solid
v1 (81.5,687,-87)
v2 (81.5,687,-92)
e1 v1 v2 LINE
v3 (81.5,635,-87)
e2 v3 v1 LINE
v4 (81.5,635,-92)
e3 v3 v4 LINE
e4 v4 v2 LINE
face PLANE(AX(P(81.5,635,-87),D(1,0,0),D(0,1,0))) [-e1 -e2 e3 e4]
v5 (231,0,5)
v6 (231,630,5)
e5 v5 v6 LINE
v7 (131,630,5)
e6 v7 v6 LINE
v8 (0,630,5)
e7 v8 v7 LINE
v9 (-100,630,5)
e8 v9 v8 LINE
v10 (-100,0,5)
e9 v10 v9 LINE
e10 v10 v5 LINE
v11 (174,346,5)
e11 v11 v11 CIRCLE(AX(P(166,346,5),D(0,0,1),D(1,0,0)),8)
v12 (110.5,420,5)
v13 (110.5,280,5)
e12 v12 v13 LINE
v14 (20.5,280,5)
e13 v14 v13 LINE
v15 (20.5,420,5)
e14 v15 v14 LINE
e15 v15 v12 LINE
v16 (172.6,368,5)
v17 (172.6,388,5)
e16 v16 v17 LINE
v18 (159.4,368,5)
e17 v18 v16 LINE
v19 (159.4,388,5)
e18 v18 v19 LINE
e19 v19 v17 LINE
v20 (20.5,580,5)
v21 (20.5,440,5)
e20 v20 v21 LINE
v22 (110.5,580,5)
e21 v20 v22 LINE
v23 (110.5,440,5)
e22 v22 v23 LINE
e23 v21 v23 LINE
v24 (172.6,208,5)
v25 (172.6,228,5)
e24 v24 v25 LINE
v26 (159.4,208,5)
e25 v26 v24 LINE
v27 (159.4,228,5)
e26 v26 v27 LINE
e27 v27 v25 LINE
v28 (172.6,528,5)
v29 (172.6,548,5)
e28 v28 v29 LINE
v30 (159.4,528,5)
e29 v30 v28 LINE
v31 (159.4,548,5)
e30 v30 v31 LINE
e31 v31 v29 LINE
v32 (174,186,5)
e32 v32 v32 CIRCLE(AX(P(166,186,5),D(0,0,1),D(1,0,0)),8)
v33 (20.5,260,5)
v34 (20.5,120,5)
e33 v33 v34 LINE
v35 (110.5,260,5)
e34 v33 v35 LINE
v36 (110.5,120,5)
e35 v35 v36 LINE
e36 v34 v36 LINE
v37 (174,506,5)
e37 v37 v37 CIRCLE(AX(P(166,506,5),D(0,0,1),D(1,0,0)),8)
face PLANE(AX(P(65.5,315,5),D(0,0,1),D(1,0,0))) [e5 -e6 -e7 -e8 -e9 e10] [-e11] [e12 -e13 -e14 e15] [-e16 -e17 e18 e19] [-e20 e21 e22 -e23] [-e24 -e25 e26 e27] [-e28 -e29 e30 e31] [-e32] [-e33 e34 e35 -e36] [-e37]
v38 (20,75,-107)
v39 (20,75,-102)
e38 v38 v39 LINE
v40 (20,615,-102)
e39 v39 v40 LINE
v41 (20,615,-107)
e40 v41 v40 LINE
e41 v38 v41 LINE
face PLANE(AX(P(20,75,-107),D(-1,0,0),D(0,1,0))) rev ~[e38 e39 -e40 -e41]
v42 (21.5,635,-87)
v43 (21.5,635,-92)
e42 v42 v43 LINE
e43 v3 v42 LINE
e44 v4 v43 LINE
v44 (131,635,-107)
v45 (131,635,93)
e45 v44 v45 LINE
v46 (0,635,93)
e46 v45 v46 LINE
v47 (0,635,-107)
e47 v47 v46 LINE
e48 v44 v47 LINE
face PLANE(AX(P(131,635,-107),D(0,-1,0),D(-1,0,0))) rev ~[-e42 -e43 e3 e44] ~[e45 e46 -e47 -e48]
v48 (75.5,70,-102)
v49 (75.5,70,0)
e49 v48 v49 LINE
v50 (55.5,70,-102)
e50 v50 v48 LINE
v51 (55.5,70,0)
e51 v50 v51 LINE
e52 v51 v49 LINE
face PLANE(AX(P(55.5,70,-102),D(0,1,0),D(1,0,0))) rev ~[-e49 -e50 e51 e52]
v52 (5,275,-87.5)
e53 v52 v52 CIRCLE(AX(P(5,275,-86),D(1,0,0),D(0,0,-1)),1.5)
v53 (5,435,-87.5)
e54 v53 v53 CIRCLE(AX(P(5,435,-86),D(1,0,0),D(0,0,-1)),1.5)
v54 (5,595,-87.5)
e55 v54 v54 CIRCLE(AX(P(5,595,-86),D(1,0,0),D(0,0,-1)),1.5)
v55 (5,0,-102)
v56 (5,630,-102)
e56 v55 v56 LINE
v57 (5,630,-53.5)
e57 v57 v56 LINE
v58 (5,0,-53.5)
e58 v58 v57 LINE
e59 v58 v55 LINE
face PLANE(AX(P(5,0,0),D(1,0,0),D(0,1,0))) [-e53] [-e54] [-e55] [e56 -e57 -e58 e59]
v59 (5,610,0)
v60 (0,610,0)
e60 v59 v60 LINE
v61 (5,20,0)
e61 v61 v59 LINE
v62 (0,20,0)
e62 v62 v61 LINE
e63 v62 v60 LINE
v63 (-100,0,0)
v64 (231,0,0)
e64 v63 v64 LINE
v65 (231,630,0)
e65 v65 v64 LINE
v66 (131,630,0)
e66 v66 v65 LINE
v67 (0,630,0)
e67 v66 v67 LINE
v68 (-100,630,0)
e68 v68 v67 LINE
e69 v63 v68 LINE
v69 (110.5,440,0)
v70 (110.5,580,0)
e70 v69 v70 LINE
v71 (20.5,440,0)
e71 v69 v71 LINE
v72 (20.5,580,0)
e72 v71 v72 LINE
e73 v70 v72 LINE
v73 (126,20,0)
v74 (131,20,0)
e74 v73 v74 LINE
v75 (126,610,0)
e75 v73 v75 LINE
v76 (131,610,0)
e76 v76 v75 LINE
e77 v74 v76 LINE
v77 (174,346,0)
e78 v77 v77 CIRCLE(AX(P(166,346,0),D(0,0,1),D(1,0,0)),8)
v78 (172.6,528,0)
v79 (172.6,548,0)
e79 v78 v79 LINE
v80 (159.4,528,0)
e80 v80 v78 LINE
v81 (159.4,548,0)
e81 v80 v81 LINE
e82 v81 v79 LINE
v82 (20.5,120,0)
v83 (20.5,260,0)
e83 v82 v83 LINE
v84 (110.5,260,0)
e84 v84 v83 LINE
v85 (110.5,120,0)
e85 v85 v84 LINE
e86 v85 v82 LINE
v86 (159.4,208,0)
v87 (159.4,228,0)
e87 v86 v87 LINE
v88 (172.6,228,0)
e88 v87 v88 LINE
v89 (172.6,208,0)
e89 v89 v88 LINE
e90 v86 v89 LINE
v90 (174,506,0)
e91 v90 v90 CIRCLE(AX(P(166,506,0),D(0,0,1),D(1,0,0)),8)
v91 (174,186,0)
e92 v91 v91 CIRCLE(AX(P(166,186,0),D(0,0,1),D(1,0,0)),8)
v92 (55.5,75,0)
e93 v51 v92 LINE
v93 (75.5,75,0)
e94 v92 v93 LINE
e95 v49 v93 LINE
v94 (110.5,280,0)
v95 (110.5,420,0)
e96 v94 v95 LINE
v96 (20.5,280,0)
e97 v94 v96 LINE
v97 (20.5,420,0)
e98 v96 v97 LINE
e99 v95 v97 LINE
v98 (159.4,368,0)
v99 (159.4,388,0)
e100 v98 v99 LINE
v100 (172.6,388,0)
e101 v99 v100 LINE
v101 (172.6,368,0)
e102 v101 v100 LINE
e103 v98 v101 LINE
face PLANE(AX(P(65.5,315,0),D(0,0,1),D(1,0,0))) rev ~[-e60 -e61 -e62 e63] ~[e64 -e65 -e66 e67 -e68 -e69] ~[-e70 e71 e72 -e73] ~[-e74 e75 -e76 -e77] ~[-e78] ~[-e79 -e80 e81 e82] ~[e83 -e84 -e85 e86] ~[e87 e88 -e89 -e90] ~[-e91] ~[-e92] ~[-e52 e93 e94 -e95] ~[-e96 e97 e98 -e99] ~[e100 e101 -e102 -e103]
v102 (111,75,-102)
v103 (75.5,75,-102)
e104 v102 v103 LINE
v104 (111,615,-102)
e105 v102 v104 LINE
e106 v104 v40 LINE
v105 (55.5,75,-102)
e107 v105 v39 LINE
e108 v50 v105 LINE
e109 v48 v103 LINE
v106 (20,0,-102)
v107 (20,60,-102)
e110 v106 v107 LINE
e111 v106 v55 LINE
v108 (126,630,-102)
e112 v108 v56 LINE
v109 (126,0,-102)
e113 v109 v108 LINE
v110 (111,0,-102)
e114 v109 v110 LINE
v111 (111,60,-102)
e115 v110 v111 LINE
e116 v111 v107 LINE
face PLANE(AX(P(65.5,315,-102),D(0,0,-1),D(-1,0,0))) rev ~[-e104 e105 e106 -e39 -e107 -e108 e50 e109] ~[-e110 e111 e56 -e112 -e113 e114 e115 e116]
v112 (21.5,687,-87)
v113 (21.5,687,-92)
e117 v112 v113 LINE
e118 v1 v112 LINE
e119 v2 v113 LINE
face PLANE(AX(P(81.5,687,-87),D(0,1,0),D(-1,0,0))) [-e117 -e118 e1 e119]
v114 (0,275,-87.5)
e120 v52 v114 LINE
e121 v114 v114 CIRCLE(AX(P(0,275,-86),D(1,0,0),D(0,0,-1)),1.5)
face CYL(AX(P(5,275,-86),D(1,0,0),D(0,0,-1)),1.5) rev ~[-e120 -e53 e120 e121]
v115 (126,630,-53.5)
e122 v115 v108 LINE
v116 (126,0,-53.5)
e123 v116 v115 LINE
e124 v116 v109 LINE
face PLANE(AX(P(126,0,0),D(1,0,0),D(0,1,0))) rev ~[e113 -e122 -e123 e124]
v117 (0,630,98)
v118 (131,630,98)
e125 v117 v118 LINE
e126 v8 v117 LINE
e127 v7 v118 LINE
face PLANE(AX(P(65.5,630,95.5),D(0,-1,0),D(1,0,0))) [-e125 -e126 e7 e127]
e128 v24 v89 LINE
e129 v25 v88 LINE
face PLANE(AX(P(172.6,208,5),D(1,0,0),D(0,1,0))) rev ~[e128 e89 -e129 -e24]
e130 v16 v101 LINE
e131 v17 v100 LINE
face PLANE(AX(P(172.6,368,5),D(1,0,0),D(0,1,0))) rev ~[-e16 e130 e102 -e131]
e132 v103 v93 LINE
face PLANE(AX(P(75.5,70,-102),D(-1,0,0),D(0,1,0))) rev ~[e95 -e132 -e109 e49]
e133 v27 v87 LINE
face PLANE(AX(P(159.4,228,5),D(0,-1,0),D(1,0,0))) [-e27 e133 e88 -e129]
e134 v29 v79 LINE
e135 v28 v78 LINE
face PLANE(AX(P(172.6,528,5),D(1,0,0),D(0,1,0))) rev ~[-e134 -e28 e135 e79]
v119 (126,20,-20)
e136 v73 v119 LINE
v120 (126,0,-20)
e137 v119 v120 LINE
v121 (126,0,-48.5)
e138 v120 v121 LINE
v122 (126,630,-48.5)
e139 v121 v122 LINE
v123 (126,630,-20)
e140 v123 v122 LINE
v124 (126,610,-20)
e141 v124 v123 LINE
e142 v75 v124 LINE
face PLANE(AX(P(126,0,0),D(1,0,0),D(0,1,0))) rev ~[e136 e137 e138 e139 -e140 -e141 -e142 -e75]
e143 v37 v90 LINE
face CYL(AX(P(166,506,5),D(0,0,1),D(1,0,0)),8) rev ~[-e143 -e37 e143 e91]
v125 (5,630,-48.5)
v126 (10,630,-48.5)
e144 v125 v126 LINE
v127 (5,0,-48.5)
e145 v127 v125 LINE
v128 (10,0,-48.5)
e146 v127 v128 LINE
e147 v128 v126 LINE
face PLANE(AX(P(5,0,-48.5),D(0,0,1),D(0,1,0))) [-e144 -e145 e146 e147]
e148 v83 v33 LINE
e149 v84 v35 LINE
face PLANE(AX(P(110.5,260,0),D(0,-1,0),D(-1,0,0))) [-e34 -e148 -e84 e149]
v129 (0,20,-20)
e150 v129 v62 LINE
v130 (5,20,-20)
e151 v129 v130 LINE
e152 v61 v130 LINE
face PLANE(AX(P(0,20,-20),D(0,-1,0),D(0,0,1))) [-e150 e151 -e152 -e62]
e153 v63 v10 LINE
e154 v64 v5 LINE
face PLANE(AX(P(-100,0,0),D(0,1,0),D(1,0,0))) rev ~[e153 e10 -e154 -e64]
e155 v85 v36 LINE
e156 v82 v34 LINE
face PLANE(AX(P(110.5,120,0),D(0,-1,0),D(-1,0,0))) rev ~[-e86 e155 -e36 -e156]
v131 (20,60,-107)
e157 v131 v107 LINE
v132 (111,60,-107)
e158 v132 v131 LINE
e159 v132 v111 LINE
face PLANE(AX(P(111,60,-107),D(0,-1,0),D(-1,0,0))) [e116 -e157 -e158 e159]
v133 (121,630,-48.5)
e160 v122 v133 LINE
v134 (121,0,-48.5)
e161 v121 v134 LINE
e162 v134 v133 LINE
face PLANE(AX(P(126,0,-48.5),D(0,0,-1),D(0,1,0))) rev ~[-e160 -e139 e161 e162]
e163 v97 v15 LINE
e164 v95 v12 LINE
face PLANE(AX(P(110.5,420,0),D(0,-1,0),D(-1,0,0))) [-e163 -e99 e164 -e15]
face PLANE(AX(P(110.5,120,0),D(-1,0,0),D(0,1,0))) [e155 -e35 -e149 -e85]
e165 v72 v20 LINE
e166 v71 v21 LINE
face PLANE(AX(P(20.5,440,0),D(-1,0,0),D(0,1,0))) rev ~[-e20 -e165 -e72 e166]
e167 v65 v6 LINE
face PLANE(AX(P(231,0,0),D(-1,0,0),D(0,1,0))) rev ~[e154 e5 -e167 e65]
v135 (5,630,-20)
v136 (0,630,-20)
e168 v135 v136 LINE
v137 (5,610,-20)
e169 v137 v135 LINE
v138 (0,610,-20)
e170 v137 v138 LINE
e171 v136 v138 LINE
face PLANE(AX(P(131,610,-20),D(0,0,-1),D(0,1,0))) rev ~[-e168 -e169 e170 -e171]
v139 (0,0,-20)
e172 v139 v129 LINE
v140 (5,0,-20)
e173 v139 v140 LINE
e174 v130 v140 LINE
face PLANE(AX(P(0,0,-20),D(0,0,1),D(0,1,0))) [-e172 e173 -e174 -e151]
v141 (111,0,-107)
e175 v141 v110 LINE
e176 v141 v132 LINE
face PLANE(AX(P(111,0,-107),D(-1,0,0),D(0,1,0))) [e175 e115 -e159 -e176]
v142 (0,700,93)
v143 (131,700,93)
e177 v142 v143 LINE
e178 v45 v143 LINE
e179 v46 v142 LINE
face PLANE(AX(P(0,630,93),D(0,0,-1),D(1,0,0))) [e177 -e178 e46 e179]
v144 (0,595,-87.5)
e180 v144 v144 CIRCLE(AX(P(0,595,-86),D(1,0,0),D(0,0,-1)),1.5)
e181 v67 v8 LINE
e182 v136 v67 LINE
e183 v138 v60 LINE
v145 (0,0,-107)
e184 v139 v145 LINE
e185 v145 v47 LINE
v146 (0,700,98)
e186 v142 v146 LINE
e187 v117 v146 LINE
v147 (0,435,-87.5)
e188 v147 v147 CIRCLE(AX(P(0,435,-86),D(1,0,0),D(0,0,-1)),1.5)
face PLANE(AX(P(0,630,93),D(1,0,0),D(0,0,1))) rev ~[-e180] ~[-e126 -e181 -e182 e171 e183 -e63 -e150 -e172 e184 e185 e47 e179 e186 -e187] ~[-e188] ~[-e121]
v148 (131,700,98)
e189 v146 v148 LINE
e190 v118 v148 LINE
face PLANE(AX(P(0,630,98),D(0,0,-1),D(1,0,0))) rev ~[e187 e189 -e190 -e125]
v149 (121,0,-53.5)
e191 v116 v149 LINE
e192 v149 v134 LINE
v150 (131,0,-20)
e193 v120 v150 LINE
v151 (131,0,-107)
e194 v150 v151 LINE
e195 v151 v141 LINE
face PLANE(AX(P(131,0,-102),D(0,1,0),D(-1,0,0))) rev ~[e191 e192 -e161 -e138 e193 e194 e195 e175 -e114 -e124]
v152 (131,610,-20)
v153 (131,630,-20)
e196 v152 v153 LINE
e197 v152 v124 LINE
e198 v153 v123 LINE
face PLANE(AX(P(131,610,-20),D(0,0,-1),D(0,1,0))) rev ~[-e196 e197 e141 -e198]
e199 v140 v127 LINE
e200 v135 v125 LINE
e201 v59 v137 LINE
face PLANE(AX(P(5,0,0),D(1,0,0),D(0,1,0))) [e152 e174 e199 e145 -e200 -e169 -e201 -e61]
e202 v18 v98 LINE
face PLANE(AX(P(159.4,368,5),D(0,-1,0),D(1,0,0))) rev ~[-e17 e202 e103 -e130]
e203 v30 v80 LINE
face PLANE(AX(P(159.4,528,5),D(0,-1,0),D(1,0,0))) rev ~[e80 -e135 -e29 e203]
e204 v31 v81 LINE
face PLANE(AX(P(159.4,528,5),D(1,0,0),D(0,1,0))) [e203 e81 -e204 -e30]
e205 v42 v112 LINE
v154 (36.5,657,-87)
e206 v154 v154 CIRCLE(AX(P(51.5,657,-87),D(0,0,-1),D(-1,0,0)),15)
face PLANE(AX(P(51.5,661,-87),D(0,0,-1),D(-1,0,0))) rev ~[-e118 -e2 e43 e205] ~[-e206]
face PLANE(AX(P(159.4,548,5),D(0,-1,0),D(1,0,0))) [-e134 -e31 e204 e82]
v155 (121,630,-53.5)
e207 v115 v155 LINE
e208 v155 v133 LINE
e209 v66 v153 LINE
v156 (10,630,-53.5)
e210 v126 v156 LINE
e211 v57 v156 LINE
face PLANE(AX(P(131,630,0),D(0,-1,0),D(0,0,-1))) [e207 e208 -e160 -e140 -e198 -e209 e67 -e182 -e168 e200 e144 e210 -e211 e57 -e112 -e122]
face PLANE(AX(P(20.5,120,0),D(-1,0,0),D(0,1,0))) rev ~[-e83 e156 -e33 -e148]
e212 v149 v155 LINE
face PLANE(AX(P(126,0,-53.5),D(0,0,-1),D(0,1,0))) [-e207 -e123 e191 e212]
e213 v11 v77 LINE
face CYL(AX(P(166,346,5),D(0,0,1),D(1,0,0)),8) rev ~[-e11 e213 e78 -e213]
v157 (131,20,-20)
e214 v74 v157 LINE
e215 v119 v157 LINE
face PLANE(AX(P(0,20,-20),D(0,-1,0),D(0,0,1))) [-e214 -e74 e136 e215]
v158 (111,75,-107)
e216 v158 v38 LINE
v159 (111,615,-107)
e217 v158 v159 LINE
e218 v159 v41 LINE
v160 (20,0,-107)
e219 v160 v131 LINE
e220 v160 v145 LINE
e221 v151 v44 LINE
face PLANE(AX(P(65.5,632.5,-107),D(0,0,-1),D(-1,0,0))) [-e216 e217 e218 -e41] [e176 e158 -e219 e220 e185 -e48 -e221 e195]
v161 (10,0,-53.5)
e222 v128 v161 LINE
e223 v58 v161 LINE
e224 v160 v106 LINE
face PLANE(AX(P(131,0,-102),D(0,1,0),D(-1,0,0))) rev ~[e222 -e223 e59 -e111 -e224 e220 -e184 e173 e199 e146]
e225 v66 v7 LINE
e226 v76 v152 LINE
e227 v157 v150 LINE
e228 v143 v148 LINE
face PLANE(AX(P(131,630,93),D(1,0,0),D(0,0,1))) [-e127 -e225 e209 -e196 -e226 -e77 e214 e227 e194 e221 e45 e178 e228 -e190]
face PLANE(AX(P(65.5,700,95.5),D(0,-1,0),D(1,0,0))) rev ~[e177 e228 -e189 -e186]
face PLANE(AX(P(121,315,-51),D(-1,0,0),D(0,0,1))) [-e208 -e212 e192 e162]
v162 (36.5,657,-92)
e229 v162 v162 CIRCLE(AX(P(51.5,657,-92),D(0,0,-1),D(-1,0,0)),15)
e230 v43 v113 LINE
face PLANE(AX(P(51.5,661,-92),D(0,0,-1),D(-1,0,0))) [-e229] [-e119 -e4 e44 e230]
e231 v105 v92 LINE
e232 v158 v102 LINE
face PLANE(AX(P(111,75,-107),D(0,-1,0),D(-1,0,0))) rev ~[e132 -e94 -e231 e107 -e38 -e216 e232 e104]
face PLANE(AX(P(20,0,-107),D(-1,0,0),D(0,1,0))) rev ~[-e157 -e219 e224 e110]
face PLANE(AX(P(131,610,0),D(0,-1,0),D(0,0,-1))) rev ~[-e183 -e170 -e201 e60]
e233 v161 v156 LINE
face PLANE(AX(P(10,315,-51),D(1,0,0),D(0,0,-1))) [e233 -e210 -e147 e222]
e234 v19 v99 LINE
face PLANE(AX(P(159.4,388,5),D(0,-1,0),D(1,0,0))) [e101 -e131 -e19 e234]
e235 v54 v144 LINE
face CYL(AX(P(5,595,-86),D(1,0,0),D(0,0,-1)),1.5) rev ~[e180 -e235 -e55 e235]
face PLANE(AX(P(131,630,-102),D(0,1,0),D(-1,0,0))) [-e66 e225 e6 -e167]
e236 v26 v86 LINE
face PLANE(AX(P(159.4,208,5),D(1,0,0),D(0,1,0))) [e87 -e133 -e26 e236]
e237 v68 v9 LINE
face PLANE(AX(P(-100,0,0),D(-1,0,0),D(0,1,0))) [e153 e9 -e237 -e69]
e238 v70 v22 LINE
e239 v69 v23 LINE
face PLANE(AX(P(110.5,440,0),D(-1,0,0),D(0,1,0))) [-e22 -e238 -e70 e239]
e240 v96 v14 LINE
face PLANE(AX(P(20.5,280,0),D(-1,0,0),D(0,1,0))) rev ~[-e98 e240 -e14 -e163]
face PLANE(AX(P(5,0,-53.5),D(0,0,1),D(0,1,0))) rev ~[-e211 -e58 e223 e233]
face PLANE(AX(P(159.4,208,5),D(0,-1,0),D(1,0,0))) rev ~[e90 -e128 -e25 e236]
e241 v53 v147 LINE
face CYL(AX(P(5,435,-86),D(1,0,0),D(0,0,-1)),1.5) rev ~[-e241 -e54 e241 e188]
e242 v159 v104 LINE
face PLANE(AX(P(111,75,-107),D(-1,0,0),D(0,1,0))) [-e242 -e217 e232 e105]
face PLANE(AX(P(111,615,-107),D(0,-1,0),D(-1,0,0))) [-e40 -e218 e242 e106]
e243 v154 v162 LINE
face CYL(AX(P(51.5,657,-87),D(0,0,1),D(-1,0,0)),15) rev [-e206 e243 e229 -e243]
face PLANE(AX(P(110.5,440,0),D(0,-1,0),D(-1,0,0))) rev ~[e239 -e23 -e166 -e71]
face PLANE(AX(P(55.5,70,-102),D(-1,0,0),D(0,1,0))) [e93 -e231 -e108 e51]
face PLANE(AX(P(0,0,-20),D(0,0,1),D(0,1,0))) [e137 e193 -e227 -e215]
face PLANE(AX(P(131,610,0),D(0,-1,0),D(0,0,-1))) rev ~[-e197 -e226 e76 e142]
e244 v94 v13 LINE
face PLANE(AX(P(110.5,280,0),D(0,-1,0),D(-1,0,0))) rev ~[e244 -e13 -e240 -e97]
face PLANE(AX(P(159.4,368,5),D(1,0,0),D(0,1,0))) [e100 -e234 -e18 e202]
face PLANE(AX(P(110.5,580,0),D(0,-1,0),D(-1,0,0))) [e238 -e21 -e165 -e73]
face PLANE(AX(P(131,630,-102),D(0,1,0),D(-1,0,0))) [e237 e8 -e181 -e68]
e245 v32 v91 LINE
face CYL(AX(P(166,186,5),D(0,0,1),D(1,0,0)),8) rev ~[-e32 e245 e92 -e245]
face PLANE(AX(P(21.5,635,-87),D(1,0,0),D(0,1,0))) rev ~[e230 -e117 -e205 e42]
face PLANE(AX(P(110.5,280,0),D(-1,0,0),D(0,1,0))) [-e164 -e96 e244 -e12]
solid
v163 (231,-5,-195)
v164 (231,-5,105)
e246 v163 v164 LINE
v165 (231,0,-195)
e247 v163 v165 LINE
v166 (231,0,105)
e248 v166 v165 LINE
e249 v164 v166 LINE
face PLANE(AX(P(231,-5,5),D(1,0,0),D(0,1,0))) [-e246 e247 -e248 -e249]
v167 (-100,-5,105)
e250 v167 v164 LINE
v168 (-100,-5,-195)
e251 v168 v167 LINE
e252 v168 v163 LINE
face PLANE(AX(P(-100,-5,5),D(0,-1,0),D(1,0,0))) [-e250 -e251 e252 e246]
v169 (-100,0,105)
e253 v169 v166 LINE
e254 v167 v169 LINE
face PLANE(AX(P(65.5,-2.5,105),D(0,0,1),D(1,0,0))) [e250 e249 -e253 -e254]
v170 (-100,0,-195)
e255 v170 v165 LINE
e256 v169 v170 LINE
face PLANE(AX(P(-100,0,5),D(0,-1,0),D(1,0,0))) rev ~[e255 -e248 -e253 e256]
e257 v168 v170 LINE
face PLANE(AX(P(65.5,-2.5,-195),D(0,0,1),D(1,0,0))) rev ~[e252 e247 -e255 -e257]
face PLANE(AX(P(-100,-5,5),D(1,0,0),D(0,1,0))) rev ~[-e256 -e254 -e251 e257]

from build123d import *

# Parameters (mm, degrees)
ESQUISSE1_W             = 102
ESQUISSE1_H             = 630
BOSS_EXTRU_1_DEPTH      = 131
ESQUISSE2_W             = 121
ESQUISSE2_H             = 630
ENL_V_MAT_EXTRU_1_DEPTH = 103
ESQUISSE3_W             = 5
ESQUISSE3_H             = 630
BOSS_EXTRU_2_DEPTH      = 5
ESQUISSE4_W             = 5
ESQUISSE4_H             = 630
BOSS_EXTRU_3_DEPTH      = 5
ESQUISSE5_W             = 331
ESQUISSE5_H             = 630
BOSS_EXTRU_4_DEPTH      = 5
ESQUISSE6_W             = 90
ESQUISSE6_H             = 140
ENL_V_MAT_EXTRU_2_DEPTH = 6
ESQUISSE7_R             = 8
ESQUISSE7_W             = 13.2
ESQUISSE7_H             = 20
ENL_V_MAT_EXTRU_3_DEPTH = 108
ESQUISSE8_W             = 20
ESQUISSE8_H             = 20
ENL_V_MAT_EXTRU_4_DEPTH = 232
ESQUISSE9_W             = 131
ESQUISSE9_H             = 630
BOSS_EXTRU_5_DEPTH      = 5
ESQUISSE10_W            = 91
ESQUISSE10_H            = 540
ENL_V_MAT_EXTRU_5_DEPTH = 5
ESQUISSE11_W            = 91
ESQUISSE11_H            = 60
ENL_V_MAT_EXTRU_6_DEPTH = 5
BOSS_EXTRU_6_REACH      = 109
ESQUISSE12_W            = 20
ESQUISSE12_H            = 5
ESQUISSE13_W            = 331
ESQUISSE13_H            = 5
BOSS_EXTRU_7_DEPTH      = 100
BOSS_EXTRU_7_DEPTH_BACK = 200
ESQUISSE15_W            = 131
ESQUISSE15_H            = 5
BOSS_EXTRU_8_DEPTH      = 200
ESQUISSE16_W            = 20
ESQUISSE16_H            = 20
ENL_V_MAT_EXTRU_7_DEPTH = 232
ESQUISSE18_R            = 1.5
ENL_V_MAT_EXTRU_8_DEPTH = 106
ESQUISSE21_W            = 60
ESQUISSE21_H            = 52
ESQUISSE21_R            = 15
BOSS_EXTRU_9_DEPTH      = 5
ESQUISSE22_W            = 131
ESQUISSE22_H            = 5
BOSS_EXTRU_10_DEPTH     = 70


with BuildPart() as part:
    # Esquisse1 → Boss.-Extru.1 (new body)
    with BuildSketch(Plane(origin=(0, 0, 0), x_dir=(0, 0, -1), z_dir=(1, 0, 0))):
        with Locations((51, 315)):
            Rectangle(ESQUISSE1_W, ESQUISSE1_H)
    extrude(amount=BOSS_EXTRU_1_DEPTH)

    # Esquisse2 → Enlèv. mat.-Extru.1 (cut, through all)
    with BuildSketch(Plane.XY):
        with Locations((65.5, 315)):
            Rectangle(ESQUISSE2_W, ESQUISSE2_H)
    extrude(amount=-ENL_V_MAT_EXTRU_1_DEPTH, mode=Mode.SUBTRACT)

    # Esquisse3 → Boss.-Extru.2 (add)
    with BuildSketch(Plane(origin=(5, 0, 0), x_dir=(0, 0, -1), z_dir=(1, 0, 0))):
        with Locations((51, 315)):
            Rectangle(ESQUISSE3_W, ESQUISSE3_H)
    extrude(amount=BOSS_EXTRU_2_DEPTH)

    # Esquisse4 → Boss.-Extru.3 (add)
    with BuildSketch(Plane.ZY.offset(-126)):
        with Locations((-51, 315)):
            Rectangle(ESQUISSE4_W, ESQUISSE4_H)
    extrude(amount=BOSS_EXTRU_3_DEPTH)

    # Esquisse5 → Boss.-Extru.4 (add)
    with BuildSketch(Plane.XY):
        with Locations((65.5, 315)):
            Rectangle(ESQUISSE5_W, ESQUISSE5_H)
    extrude(amount=BOSS_EXTRU_4_DEPTH)

    # Esquisse6 → Enlèv. mat.-Extru.2 (cut, through all)
    with BuildSketch(Plane(origin=(0, 0, 0), x_dir=(-1, 0, 0), z_dir=(0, 0, -1))):
        with Locations((-65.5, 190)):
            Rectangle(ESQUISSE6_W, ESQUISSE6_H)
        with Locations((-65.5, 350)):
            Rectangle(ESQUISSE6_W, ESQUISSE6_H)
        with Locations((-65.5, 510)):
            Rectangle(ESQUISSE6_W, ESQUISSE6_H)
    extrude(amount=-ENL_V_MAT_EXTRU_2_DEPTH, mode=Mode.SUBTRACT)

    # Esquisse7 → Enlèv. mat.-Extru.3 (cut, through all)
    with BuildSketch(Plane.XY.offset(5)):
        with Locations((166, 186)):
            Circle(ESQUISSE7_R)
        with Locations((166, 346)):
            Circle(ESQUISSE7_R)
        with Locations((166, 506)):
            Circle(ESQUISSE7_R)
        with Locations((166, 218)):
            Rectangle(ESQUISSE7_W, ESQUISSE7_H)
        with Locations((166, 378)):
            Rectangle(ESQUISSE7_W, ESQUISSE7_H)
        with Locations((166, 538)):
            Rectangle(ESQUISSE7_W, ESQUISSE7_H)
    extrude(amount=-ENL_V_MAT_EXTRU_3_DEPTH, mode=Mode.SUBTRACT)

    # Esquisse8 → Enlèv. mat.-Extru.4 (cut, through all)
    with BuildSketch(Plane.ZY):
        with Locations((-10, 10)):
            Rectangle(ESQUISSE8_W, ESQUISSE8_H)
    extrude(amount=-ENL_V_MAT_EXTRU_4_DEPTH, mode=Mode.SUBTRACT)

    # Esquisse9 → Boss.-Extru.5 (add)
    with BuildSketch(Plane(origin=(0, 0, -102), x_dir=(-1, 0, 0), z_dir=(0, 0, -1))):
        with Locations((-65.5, 315)):
            Rectangle(ESQUISSE9_W, ESQUISSE9_H)
    extrude(amount=BOSS_EXTRU_5_DEPTH)

    # Esquisse10 → Enlèv. mat.-Extru.5 (cut)
    with BuildSketch(Plane(origin=(0, 0, -107), x_dir=(-1, 0, 0), z_dir=(0, 0, -1))):
        with Locations((-65.5, 345)):
            Rectangle(ESQUISSE10_W, ESQUISSE10_H)
    extrude(amount=-ENL_V_MAT_EXTRU_5_DEPTH, mode=Mode.SUBTRACT)

    # Esquisse11 → Enlèv. mat.-Extru.6 (cut)
    with BuildSketch(Plane(origin=(0, 0, -107), x_dir=(-1, 0, 0), z_dir=(0, 0, -1))):
        with Locations((-65.5, 30)):
            Rectangle(ESQUISSE11_W, ESQUISSE11_H)
    extrude(amount=-ENL_V_MAT_EXTRU_6_DEPTH, mode=Mode.SUBTRACT)

    # Esquisse12 → Boss.-Extru.6 (add, up to next)
    with BuildSketch(Plane.XY.offset(-102), mode=Mode.PRIVATE) as boss_extru_6_sk1:
        with Locations((65.5, 72.5)):
            Rectangle(ESQUISSE12_W, ESQUISSE12_H)
    boss_extru_6_tool1 = extrude(boss_extru_6_sk1.sketch, amount=BOSS_EXTRU_6_REACH, mode=Mode.PRIVATE) - part.part
    add(boss_extru_6_tool1.solids().sort_by_distance((65.5, 72.5, -102))[0])

    # Esquisse15 → Boss.-Extru.8 (add)
    with BuildSketch(Plane(origin=(0, 0, -107), x_dir=(-1, 0, 0), z_dir=(0, 0, -1))):
        with Locations((-65.5, 632.5)):
            Rectangle(ESQUISSE15_W, ESQUISSE15_H)
    extrude(amount=-BOSS_EXTRU_8_DEPTH)

    # Esquisse16 → Enlèv. mat.-Extru.7 (cut, through all)
    with BuildSketch(Plane(origin=(131, 0, 0), x_dir=(0, 0, -1), z_dir=(1, 0, 0))):
        with Locations((10, 620)):
            Rectangle(ESQUISSE16_W, ESQUISSE16_H)
    extrude(amount=-ENL_V_MAT_EXTRU_7_DEPTH, mode=Mode.SUBTRACT)

    # Esquisse18 → Enlèv. mat.-Extru.8 (cut, through all)
    with BuildSketch(Plane(origin=(5, 0, 0), x_dir=(0, 0, -1), z_dir=(1, 0, 0))):
        with Locations((86, 595)):
            Circle(ESQUISSE18_R)
        with Locations((86, 435)):
            Circle(ESQUISSE18_R)
        with Locations((86, 275)):
            Circle(ESQUISSE18_R)
    extrude(amount=-ENL_V_MAT_EXTRU_8_DEPTH, mode=Mode.SUBTRACT)

    # Esquisse21 → Boss.-Extru.9 (add)
    with BuildSketch(Plane(origin=(0, 0, -87), x_dir=(-1, 0, 0), z_dir=(0, 0, -1))):
        with Locations((-51.5, 661)):
            Rectangle(ESQUISSE21_W, ESQUISSE21_H)
        with Locations((-51.5, 657)):
            Circle(ESQUISSE21_R, mode=Mode.SUBTRACT)
    extrude(amount=BOSS_EXTRU_9_DEPTH)

    # Esquisse22 → Boss.-Extru.10 (add)
    with BuildSketch(Plane.XZ.offset(-630)):
        with Locations((65.5, 95.5)):
            Rectangle(ESQUISSE22_W, ESQUISSE22_H)
    extrude(amount=-BOSS_EXTRU_10_DEPTH)


with BuildPart() as body_2:
    # Esquisse13 → Boss.-Extru.7 (new body, two sides)
    with BuildSketch(Plane.XY.offset(5)) as boss_extru_7_sk:
        with Locations((65.5, -2.5)):
            Rectangle(ESQUISSE13_W, ESQUISSE13_H)
    extrude(amount=BOSS_EXTRU_7_DEPTH)
    extrude(boss_extru_7_sk.sketch, amount=-BOSS_EXTRU_7_DEPTH_BACK)


solid = Compound([part.part, body_2.part])
